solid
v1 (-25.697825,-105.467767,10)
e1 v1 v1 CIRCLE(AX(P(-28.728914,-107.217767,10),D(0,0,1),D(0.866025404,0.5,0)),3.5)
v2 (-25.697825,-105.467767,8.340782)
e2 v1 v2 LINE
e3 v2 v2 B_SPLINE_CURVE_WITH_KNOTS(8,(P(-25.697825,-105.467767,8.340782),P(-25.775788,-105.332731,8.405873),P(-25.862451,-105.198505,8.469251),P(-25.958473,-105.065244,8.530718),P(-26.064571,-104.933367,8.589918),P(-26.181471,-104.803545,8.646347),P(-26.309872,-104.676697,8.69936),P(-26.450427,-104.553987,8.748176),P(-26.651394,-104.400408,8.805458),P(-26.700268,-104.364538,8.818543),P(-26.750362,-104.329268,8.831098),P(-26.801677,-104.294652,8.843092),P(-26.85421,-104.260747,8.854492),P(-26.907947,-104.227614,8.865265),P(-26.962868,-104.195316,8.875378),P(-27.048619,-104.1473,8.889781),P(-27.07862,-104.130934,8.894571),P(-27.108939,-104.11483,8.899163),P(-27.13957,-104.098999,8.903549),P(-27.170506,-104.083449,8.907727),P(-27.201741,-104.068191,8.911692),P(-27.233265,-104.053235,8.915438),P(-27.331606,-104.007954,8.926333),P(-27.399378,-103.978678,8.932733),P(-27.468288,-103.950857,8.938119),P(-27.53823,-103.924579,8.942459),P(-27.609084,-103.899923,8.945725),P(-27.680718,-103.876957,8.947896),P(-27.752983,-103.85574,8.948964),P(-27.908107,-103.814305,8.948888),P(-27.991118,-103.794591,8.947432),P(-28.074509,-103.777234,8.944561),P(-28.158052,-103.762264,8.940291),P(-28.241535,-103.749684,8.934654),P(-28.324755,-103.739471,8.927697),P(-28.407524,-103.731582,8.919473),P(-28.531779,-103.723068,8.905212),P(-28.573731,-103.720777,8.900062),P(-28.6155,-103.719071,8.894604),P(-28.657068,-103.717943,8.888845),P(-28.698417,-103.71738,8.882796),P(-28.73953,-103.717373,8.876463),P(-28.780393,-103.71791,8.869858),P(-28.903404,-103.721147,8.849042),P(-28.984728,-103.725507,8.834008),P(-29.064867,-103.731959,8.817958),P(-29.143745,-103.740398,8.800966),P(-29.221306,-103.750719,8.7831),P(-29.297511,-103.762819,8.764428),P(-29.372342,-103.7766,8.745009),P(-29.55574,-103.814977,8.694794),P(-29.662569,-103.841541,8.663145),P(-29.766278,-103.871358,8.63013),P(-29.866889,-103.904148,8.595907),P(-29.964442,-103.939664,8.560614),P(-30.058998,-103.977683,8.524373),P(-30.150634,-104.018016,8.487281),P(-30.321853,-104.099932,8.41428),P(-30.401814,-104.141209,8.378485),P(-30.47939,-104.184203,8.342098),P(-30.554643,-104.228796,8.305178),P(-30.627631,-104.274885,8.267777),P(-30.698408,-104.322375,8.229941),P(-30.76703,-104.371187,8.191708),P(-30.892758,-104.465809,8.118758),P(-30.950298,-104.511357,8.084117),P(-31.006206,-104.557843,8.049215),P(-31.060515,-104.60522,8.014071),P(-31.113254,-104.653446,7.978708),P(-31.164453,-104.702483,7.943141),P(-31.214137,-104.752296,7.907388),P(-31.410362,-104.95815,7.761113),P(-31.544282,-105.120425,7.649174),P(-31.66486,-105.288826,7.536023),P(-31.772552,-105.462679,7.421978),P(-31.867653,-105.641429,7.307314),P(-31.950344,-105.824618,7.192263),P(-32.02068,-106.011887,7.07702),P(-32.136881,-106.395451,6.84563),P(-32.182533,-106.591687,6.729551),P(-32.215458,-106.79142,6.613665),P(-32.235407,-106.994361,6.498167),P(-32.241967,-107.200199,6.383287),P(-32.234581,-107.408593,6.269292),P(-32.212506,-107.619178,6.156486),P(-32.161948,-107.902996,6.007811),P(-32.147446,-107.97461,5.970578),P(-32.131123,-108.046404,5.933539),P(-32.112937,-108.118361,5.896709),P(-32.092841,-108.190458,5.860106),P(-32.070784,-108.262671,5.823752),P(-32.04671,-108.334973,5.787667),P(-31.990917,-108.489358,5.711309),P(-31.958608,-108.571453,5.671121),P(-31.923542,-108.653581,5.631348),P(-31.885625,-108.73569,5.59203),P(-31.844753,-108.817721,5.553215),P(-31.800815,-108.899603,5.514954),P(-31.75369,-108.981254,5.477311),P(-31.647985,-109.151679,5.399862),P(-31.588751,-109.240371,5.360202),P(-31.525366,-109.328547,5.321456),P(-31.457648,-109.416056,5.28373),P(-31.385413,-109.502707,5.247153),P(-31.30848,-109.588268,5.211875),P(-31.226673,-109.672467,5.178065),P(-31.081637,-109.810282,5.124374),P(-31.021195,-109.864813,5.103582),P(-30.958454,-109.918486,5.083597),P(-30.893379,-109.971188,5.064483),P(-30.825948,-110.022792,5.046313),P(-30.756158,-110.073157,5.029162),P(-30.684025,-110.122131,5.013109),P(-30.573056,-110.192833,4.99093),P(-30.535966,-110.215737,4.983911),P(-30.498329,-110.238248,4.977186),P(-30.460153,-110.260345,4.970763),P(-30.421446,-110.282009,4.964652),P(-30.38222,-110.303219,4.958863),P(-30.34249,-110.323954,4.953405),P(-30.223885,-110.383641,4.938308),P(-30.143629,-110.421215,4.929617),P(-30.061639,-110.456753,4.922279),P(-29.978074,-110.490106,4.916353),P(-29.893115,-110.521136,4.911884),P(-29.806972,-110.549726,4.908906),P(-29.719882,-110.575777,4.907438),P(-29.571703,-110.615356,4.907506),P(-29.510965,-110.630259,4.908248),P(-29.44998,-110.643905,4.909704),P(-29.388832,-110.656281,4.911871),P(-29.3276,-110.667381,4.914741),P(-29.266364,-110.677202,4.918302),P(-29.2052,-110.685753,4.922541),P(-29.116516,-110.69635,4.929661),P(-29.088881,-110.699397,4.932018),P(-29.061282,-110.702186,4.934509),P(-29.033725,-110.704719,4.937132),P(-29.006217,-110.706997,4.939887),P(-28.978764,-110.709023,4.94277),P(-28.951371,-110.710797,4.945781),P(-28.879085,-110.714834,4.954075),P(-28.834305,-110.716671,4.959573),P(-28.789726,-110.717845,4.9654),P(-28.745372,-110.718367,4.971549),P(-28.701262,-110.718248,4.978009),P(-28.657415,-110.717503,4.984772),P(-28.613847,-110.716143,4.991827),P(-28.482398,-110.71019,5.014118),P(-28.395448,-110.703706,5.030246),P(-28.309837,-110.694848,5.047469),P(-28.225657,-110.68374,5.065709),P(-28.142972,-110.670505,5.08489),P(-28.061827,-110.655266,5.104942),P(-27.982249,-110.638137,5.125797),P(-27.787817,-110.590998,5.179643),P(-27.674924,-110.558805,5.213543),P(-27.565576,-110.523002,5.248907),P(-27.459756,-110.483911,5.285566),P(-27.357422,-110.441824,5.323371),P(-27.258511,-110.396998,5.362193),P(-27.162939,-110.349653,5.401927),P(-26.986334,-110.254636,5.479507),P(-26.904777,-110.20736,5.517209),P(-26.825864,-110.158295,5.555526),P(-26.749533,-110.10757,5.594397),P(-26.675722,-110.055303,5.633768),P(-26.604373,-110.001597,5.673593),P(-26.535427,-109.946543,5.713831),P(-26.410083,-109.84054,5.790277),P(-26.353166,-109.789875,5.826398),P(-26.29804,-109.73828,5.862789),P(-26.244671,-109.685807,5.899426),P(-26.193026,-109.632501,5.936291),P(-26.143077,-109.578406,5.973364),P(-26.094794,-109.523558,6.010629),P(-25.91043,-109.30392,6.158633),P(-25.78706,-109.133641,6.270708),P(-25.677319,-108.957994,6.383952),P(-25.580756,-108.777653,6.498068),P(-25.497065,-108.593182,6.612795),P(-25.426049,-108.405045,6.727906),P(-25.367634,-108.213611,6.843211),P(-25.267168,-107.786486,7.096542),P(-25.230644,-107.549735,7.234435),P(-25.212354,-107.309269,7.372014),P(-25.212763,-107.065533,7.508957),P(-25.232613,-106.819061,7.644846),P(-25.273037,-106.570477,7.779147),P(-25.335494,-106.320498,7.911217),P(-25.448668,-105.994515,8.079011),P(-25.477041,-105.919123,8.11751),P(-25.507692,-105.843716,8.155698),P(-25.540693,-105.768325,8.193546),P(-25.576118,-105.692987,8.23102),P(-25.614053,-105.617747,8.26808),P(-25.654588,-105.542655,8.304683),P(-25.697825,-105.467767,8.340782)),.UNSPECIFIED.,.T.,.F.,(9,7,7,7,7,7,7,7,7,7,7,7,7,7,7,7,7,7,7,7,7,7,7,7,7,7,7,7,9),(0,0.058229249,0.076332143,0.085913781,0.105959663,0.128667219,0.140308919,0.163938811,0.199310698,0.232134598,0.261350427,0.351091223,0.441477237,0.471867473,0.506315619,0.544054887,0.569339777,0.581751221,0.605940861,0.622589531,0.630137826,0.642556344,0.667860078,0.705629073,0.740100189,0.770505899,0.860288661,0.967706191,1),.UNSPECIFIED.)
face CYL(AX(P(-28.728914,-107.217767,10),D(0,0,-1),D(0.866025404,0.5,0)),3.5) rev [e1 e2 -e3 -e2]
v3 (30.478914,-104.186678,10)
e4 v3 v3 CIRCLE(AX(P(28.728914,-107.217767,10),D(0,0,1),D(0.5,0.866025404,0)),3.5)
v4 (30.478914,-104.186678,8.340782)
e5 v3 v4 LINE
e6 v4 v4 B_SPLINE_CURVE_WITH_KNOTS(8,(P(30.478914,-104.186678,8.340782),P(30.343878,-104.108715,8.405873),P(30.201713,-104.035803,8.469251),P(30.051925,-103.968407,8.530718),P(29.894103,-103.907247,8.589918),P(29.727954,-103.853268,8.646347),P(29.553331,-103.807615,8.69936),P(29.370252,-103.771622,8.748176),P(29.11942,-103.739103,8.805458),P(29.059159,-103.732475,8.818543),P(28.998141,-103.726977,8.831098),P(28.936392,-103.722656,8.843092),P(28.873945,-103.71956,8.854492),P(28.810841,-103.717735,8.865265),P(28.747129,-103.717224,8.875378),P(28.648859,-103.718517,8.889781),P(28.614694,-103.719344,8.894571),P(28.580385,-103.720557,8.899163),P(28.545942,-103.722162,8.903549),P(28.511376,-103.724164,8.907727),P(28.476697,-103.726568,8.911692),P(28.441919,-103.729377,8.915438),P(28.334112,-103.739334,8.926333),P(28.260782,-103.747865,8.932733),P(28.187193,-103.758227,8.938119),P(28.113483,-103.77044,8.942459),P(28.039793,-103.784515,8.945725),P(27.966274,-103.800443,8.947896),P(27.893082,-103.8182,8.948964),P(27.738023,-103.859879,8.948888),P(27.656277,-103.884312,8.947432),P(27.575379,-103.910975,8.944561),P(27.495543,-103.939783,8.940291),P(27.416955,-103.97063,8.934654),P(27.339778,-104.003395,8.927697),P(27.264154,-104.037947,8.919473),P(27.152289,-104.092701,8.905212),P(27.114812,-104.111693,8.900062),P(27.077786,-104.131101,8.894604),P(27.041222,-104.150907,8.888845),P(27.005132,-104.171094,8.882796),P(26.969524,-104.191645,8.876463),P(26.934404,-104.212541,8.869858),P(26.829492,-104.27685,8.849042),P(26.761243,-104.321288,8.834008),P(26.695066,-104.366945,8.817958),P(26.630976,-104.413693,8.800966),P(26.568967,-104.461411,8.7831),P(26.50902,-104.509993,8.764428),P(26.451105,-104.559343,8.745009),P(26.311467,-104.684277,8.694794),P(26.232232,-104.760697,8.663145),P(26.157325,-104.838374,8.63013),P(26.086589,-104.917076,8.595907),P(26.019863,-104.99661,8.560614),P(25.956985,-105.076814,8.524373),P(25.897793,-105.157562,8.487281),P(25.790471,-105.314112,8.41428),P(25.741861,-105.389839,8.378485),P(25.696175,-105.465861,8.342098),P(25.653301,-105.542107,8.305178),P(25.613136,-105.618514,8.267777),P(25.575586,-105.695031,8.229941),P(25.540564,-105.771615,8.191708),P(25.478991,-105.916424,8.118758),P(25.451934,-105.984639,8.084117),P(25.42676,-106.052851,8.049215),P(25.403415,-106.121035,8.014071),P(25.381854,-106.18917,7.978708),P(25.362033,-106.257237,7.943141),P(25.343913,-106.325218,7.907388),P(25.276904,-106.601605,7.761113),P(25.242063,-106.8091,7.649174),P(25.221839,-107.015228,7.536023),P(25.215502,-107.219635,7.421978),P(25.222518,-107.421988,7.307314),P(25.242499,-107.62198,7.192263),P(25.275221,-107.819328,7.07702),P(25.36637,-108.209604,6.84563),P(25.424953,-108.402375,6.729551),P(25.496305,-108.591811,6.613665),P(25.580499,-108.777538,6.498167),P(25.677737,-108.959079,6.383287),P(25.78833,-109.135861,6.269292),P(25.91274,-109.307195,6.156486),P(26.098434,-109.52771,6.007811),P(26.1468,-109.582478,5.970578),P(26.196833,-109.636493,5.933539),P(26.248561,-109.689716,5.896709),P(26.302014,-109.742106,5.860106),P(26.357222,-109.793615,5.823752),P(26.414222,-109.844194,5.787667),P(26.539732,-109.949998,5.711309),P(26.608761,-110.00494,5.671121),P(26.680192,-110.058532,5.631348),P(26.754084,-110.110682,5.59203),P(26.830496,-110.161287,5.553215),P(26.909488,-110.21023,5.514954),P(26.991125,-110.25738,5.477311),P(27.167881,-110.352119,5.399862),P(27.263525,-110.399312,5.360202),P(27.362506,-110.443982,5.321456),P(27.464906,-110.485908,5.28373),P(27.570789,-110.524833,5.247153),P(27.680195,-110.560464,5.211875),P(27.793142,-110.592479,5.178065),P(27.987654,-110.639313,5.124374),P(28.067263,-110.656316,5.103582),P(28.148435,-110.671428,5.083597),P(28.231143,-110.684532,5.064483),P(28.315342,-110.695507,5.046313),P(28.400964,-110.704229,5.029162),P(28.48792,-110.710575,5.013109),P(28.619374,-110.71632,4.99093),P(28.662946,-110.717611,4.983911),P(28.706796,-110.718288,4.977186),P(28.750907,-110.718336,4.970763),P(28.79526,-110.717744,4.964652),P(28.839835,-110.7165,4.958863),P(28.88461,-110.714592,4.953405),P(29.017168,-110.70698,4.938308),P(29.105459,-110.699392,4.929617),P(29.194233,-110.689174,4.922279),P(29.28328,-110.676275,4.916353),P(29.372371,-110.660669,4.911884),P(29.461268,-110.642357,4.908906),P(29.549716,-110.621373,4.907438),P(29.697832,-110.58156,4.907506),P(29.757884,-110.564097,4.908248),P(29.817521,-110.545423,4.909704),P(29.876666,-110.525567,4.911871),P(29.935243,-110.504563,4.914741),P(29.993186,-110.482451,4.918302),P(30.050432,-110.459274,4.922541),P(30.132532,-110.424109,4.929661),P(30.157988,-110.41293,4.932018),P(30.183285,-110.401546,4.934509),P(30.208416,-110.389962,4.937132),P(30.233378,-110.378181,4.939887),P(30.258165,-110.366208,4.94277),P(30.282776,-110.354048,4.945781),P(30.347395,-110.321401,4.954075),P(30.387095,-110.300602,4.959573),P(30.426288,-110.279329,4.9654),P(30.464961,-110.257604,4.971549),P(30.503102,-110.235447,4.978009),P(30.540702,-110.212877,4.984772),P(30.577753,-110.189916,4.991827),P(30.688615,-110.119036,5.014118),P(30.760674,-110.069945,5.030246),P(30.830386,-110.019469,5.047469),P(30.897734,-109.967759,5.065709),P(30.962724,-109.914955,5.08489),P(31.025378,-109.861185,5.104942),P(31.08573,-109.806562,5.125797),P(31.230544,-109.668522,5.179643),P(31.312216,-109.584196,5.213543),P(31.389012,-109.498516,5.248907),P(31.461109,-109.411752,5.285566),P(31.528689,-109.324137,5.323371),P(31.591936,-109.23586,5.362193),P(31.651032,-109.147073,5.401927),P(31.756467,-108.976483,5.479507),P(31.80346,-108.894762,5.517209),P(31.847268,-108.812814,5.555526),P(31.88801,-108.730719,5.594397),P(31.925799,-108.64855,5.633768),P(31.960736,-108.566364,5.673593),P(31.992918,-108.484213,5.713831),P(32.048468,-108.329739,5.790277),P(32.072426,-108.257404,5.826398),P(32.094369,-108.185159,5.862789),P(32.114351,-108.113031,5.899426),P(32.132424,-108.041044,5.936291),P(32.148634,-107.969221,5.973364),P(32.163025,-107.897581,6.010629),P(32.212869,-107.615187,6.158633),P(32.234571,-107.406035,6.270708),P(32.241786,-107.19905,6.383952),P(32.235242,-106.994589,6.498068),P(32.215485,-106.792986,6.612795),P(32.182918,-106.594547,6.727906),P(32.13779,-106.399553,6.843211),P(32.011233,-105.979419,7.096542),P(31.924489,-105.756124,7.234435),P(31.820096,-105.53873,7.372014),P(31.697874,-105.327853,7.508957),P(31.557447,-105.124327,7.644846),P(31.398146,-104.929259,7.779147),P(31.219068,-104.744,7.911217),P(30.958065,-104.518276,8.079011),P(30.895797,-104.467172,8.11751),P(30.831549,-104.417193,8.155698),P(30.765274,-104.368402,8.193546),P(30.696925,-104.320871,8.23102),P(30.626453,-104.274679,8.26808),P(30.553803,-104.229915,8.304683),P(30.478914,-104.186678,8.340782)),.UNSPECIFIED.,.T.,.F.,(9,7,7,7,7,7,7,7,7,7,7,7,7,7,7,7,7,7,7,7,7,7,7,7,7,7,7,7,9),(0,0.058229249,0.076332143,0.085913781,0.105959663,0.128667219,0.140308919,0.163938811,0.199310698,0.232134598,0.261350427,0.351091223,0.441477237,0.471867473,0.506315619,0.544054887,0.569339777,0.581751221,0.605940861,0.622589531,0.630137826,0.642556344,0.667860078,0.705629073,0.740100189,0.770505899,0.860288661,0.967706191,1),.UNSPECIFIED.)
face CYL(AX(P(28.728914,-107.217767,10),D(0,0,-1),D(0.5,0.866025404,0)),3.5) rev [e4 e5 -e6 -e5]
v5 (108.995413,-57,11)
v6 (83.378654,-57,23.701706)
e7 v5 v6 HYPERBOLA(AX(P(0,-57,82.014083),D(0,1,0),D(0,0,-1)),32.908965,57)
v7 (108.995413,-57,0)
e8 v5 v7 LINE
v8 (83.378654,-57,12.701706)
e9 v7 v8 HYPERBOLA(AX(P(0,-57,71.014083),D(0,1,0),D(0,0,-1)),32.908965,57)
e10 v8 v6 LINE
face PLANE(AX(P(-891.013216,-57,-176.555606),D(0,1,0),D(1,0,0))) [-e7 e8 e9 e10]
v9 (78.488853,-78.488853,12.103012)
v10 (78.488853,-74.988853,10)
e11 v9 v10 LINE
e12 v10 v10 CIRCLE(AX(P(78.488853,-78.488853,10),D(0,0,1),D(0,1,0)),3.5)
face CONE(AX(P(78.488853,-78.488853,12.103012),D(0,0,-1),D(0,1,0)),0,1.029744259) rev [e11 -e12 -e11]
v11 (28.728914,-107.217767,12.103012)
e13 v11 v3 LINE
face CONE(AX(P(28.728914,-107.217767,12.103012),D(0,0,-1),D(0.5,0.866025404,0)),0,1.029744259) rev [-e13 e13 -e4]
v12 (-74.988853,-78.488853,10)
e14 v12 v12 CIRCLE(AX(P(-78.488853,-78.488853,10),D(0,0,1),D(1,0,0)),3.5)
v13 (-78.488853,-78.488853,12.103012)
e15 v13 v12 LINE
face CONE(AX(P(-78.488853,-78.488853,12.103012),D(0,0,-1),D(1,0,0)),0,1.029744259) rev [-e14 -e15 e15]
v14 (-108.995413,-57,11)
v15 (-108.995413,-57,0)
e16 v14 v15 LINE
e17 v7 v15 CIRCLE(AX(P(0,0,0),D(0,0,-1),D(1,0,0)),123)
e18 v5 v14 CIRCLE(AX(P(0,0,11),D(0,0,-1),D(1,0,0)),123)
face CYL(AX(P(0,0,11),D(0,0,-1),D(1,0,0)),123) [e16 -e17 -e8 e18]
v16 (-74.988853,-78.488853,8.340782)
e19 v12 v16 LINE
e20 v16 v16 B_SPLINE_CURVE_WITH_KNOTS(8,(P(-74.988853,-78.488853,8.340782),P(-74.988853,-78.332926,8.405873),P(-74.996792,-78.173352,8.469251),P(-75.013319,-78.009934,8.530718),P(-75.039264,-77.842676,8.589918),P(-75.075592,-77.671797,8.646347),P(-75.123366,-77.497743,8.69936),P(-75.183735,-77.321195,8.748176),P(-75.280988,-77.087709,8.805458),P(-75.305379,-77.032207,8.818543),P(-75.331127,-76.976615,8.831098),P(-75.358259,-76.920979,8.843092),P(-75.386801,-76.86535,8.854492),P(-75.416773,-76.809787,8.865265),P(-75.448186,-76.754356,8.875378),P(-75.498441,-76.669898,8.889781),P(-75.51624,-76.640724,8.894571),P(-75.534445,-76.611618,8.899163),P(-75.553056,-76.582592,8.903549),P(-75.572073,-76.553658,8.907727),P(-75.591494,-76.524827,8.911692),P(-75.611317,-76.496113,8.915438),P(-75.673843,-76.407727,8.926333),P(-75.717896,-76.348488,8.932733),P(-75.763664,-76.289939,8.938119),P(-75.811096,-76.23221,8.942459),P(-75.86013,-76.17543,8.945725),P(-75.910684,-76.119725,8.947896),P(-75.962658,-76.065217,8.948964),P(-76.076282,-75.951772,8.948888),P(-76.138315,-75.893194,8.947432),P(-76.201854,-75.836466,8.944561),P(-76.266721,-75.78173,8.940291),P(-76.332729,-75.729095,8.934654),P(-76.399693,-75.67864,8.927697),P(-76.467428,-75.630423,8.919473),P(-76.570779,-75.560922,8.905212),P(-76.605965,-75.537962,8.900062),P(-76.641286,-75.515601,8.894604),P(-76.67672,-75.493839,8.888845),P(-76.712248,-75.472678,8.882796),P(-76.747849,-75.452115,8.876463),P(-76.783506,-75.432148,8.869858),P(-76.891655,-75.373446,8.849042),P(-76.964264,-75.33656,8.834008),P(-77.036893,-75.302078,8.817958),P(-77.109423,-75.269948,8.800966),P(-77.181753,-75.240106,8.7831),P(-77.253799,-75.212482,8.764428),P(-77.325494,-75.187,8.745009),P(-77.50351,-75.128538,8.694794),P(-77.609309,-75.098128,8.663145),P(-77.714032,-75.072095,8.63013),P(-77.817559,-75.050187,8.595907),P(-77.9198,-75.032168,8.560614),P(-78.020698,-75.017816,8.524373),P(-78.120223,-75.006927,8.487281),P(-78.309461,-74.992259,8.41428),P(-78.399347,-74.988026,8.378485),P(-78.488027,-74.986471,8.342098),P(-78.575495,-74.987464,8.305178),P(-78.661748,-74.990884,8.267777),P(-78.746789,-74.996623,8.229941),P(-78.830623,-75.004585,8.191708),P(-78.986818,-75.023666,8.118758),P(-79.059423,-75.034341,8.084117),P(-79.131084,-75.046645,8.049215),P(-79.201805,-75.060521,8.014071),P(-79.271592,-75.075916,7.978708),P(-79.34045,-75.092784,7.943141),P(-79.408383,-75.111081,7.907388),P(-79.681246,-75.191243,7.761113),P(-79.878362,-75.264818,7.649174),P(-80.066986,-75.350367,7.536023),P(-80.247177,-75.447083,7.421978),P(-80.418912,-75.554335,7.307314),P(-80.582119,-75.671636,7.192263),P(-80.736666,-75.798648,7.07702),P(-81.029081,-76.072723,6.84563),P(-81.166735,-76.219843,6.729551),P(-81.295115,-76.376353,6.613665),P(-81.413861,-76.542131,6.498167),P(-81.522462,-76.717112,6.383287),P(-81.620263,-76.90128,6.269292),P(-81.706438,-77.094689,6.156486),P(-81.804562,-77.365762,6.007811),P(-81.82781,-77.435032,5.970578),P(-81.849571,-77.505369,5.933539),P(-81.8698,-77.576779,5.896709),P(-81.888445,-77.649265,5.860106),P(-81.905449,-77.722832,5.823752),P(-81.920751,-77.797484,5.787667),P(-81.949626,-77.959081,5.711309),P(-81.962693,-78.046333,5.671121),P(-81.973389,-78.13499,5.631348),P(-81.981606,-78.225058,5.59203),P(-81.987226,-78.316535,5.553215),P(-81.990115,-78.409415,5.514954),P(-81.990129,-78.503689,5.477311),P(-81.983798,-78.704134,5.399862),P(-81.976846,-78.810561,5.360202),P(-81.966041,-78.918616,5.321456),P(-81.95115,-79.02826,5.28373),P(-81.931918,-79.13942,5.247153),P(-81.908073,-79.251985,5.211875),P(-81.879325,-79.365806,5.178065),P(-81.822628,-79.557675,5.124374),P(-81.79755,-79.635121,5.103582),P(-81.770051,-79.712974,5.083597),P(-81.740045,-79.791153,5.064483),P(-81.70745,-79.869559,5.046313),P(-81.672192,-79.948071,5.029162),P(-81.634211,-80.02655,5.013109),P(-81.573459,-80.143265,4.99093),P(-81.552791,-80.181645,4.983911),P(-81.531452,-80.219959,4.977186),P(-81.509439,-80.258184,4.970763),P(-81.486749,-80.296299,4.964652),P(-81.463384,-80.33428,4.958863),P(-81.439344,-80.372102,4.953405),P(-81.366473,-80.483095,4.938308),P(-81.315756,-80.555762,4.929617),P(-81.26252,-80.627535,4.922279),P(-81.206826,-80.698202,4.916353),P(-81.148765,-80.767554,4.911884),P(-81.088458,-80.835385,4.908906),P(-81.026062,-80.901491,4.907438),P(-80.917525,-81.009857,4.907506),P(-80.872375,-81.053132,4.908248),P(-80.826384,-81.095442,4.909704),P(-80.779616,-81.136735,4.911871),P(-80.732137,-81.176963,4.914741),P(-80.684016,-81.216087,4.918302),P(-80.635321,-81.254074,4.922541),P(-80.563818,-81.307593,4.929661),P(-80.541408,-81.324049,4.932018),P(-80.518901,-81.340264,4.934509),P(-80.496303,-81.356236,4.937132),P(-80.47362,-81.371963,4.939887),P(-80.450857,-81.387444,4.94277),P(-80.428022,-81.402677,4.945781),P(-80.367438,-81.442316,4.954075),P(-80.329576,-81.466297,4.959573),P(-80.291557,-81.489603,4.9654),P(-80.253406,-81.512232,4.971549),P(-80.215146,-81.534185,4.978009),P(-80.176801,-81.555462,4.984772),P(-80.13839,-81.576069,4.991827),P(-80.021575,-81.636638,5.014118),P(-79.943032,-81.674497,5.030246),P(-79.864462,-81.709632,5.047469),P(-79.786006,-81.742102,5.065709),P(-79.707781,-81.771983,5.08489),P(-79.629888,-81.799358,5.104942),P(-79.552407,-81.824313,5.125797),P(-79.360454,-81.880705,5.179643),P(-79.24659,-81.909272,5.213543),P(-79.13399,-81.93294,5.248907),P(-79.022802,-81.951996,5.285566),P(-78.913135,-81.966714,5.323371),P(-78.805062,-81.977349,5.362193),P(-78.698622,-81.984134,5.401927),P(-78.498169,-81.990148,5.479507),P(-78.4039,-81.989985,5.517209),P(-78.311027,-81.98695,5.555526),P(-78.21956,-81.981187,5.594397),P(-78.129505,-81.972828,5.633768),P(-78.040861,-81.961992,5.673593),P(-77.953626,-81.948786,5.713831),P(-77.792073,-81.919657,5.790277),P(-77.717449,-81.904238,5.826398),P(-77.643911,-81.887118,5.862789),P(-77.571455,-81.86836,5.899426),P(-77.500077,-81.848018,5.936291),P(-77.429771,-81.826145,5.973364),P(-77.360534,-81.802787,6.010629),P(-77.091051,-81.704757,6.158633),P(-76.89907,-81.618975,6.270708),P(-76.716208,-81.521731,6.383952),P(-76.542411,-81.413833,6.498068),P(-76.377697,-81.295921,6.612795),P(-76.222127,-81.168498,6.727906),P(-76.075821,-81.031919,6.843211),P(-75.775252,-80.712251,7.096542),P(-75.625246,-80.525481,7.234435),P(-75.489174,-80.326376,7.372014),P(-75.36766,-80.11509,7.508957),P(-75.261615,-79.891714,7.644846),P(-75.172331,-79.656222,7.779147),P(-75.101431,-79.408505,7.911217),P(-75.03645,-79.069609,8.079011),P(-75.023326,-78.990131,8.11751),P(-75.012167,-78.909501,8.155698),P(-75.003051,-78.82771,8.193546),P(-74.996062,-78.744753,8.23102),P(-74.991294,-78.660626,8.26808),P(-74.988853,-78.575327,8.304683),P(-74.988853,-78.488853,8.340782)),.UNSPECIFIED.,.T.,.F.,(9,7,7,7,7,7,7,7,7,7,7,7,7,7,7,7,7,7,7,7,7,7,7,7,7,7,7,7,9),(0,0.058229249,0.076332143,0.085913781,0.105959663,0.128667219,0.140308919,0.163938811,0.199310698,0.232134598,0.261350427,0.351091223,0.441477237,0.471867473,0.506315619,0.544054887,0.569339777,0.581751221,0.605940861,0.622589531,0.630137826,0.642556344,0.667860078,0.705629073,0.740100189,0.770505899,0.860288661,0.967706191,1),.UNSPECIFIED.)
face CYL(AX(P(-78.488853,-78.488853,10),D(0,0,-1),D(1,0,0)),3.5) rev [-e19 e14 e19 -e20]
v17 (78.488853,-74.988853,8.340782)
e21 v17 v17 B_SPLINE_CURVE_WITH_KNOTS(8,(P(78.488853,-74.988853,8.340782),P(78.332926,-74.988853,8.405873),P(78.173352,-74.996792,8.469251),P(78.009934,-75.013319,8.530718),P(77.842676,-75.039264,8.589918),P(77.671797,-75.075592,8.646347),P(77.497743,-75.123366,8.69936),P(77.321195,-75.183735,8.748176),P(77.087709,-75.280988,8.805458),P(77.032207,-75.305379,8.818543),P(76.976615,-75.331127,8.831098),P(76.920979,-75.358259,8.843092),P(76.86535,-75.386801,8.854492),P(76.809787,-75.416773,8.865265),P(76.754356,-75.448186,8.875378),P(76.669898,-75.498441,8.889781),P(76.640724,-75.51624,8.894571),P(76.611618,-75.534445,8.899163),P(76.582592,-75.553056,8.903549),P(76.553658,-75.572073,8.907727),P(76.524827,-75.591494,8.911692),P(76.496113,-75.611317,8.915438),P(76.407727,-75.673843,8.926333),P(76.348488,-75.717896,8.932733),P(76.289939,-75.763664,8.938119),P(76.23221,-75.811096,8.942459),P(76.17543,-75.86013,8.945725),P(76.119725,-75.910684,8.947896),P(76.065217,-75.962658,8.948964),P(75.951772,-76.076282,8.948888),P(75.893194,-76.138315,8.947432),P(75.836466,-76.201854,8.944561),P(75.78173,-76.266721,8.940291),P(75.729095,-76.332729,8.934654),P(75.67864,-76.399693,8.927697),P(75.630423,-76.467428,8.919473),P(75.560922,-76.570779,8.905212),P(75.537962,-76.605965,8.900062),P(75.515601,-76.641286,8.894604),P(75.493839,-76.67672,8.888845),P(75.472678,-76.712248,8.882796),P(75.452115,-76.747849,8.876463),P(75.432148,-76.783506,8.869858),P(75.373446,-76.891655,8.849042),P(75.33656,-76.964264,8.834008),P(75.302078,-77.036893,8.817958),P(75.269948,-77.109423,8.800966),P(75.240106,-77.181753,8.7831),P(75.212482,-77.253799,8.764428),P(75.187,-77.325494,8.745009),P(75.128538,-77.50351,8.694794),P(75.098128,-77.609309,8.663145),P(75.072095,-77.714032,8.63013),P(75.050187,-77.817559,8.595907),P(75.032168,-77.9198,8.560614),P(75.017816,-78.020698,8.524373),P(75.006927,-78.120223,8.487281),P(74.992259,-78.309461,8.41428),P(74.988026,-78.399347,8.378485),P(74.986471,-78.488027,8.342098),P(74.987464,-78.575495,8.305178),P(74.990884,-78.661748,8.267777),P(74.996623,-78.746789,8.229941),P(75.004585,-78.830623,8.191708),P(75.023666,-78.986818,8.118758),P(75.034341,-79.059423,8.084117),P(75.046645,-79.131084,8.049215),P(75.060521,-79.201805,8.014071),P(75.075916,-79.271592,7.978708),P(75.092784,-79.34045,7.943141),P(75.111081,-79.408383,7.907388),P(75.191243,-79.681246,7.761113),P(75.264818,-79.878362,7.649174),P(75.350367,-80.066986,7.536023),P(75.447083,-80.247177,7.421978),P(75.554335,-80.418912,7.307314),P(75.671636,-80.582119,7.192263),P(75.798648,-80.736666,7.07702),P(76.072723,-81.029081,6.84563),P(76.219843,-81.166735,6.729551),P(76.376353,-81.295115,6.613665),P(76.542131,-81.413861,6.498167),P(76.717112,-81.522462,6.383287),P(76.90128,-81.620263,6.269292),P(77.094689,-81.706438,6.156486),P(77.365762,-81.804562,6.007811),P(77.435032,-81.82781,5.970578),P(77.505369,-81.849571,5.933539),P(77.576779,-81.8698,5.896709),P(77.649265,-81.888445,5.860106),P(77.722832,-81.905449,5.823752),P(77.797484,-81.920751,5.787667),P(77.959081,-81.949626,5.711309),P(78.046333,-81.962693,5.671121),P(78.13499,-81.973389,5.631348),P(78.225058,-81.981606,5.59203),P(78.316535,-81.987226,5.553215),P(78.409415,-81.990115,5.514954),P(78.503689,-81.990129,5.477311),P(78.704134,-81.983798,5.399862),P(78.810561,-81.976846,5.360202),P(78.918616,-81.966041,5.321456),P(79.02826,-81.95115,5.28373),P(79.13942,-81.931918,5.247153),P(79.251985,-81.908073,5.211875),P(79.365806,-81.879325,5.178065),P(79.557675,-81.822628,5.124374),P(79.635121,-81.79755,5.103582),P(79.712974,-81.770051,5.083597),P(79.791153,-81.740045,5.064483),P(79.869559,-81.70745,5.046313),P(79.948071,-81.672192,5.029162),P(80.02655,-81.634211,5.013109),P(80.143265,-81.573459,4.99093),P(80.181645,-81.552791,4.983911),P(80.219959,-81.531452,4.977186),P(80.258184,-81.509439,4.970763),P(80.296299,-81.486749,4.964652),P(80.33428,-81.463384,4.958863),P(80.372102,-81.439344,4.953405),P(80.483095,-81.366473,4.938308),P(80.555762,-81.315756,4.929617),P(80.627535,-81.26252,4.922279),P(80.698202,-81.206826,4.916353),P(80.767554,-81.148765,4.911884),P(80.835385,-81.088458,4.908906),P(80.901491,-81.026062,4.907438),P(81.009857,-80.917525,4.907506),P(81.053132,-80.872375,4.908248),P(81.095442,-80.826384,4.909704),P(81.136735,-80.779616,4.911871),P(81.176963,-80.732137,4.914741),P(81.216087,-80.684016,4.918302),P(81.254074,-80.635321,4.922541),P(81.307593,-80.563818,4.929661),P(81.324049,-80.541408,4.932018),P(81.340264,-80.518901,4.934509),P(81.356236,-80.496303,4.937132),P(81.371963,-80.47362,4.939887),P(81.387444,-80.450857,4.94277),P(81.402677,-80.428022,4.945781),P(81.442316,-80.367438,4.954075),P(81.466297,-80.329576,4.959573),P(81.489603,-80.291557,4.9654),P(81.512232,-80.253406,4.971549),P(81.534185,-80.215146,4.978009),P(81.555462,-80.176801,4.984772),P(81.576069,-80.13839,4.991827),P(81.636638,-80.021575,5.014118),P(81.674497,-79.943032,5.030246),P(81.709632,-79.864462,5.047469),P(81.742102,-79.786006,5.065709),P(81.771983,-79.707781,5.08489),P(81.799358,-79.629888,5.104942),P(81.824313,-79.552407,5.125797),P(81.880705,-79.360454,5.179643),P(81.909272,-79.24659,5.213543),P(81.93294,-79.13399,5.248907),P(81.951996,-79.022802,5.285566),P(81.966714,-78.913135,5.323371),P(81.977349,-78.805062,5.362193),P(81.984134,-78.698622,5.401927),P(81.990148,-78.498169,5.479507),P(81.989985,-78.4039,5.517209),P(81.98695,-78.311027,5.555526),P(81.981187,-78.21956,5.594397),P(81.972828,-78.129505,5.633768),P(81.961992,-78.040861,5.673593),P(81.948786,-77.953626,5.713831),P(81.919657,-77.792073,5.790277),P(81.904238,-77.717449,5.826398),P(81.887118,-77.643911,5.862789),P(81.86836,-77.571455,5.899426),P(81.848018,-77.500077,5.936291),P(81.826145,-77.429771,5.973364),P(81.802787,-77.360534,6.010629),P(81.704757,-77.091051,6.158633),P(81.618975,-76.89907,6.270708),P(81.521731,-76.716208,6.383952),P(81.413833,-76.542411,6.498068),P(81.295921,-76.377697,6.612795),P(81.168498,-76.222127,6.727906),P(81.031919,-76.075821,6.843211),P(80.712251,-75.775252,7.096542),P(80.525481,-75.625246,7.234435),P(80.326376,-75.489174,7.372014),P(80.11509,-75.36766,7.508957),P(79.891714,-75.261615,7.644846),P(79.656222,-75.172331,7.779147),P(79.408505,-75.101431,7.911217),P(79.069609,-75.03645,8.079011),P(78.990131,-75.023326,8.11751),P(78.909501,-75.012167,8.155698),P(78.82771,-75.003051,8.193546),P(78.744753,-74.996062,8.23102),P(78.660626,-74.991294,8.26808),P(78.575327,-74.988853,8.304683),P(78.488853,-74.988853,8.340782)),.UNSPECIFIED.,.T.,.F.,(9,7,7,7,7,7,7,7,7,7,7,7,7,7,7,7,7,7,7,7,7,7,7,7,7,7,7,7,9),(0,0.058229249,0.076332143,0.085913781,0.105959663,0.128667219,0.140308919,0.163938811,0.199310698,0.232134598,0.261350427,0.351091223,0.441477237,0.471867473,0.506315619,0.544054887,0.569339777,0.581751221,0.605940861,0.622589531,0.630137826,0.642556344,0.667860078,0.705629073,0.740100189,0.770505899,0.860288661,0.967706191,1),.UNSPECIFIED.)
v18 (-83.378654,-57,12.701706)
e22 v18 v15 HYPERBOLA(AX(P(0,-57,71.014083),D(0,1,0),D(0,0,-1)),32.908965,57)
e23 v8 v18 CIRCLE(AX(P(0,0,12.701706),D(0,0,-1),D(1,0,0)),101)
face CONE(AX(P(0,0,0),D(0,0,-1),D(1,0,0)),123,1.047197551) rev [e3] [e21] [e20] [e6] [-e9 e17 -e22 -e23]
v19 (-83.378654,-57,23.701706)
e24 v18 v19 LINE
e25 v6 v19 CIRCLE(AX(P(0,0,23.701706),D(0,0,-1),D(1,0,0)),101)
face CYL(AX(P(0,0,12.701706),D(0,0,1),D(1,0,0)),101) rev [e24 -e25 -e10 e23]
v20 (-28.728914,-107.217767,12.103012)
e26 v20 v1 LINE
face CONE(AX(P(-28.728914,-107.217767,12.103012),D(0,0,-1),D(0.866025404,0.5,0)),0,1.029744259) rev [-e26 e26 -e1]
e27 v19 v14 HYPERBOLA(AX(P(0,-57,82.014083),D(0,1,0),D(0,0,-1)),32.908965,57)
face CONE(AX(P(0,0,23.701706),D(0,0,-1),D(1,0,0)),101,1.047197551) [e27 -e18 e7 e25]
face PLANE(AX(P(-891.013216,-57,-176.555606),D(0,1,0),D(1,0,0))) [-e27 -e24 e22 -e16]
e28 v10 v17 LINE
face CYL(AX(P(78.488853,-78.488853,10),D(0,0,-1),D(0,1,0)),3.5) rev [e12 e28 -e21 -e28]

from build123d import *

# Parameters (mm, degrees)
CUT_EXTRUDE_1_DEPTH      = 176.555606187
CUT_EXTRUDE_1_DEPTH_BACK = 176.555606187
PATTERN_CIRCULAR_1_COUNT = 4
PATTERN_CIRCULAR_1_ANGLE = 90


with BuildPart() as part:
    # 草图1 → 旋转1 (revolve)
    with BuildSketch(Plane(origin=(0, 0, 0), x_dir=(0, 0, -1), z_dir=(1, 0, 0)), mode=Mode.PRIVATE) as revolve_1_sk:
        Polygon((-11, -123), (0, -123), (-12.701705922, -101), (-23.701705922, -101), align=None)
    revolve(revolve_1_sk.sketch.rotate(Axis((0, 0, 0), (0, 0, -1)), 270), axis=Axis((0, 0, 0), (0, 0, -1)))

    # 草图2 → 切除-拉伸1 (cut, two sides: drawn at the far end of the back side and taken through both)
    with BuildSketch(Plane.XY.offset(-CUT_EXTRUDE_1_DEPTH_BACK)):
        Polygon((-891.013215652, -57), (-178.582733939, -57), (163.038782242, -57), (875.469263955, -57), (875.469263955, 1367.860963427), (-891.013215652, 1367.860963427), align=None)
    extrude(amount=CUT_EXTRUDE_1_DEPTH + CUT_EXTRUDE_1_DEPTH_BACK, mode=Mode.SUBTRACT)

    # 草图4 → Ø7.0 (7) 直径孔1 (revolve, cut)
    with BuildSketch(Plane(origin=(78.488852712, -78.488852712, 0), x_dir=(0, 1, 0), z_dir=(1, 0, 0))):
        Polygon((0, 0), (0, 12.103012167), (3.5, 10), (3.5, 0), align=None)
    hole_wizard_7_0_7_1 = revolve(axis=Axis((78.488852712, -78.488852712, -6.35), (0, 0, 1)), mode=Mode.SUBTRACT)

    # 阵列(圆周)1: Ø7.0 (7) 直径孔1 ×4 about axis
    pattern_circular_1_axis = Axis((0, 0, 0), (0, 0, -1))
    for i in range(1, PATTERN_CIRCULAR_1_COUNT):
        add(hole_wizard_7_0_7_1.rotate(pattern_circular_1_axis, i * PATTERN_CIRCULAR_1_ANGLE / (PATTERN_CIRCULAR_1_COUNT - 1)), mode=Mode.SUBTRACT)


solid = part.part
